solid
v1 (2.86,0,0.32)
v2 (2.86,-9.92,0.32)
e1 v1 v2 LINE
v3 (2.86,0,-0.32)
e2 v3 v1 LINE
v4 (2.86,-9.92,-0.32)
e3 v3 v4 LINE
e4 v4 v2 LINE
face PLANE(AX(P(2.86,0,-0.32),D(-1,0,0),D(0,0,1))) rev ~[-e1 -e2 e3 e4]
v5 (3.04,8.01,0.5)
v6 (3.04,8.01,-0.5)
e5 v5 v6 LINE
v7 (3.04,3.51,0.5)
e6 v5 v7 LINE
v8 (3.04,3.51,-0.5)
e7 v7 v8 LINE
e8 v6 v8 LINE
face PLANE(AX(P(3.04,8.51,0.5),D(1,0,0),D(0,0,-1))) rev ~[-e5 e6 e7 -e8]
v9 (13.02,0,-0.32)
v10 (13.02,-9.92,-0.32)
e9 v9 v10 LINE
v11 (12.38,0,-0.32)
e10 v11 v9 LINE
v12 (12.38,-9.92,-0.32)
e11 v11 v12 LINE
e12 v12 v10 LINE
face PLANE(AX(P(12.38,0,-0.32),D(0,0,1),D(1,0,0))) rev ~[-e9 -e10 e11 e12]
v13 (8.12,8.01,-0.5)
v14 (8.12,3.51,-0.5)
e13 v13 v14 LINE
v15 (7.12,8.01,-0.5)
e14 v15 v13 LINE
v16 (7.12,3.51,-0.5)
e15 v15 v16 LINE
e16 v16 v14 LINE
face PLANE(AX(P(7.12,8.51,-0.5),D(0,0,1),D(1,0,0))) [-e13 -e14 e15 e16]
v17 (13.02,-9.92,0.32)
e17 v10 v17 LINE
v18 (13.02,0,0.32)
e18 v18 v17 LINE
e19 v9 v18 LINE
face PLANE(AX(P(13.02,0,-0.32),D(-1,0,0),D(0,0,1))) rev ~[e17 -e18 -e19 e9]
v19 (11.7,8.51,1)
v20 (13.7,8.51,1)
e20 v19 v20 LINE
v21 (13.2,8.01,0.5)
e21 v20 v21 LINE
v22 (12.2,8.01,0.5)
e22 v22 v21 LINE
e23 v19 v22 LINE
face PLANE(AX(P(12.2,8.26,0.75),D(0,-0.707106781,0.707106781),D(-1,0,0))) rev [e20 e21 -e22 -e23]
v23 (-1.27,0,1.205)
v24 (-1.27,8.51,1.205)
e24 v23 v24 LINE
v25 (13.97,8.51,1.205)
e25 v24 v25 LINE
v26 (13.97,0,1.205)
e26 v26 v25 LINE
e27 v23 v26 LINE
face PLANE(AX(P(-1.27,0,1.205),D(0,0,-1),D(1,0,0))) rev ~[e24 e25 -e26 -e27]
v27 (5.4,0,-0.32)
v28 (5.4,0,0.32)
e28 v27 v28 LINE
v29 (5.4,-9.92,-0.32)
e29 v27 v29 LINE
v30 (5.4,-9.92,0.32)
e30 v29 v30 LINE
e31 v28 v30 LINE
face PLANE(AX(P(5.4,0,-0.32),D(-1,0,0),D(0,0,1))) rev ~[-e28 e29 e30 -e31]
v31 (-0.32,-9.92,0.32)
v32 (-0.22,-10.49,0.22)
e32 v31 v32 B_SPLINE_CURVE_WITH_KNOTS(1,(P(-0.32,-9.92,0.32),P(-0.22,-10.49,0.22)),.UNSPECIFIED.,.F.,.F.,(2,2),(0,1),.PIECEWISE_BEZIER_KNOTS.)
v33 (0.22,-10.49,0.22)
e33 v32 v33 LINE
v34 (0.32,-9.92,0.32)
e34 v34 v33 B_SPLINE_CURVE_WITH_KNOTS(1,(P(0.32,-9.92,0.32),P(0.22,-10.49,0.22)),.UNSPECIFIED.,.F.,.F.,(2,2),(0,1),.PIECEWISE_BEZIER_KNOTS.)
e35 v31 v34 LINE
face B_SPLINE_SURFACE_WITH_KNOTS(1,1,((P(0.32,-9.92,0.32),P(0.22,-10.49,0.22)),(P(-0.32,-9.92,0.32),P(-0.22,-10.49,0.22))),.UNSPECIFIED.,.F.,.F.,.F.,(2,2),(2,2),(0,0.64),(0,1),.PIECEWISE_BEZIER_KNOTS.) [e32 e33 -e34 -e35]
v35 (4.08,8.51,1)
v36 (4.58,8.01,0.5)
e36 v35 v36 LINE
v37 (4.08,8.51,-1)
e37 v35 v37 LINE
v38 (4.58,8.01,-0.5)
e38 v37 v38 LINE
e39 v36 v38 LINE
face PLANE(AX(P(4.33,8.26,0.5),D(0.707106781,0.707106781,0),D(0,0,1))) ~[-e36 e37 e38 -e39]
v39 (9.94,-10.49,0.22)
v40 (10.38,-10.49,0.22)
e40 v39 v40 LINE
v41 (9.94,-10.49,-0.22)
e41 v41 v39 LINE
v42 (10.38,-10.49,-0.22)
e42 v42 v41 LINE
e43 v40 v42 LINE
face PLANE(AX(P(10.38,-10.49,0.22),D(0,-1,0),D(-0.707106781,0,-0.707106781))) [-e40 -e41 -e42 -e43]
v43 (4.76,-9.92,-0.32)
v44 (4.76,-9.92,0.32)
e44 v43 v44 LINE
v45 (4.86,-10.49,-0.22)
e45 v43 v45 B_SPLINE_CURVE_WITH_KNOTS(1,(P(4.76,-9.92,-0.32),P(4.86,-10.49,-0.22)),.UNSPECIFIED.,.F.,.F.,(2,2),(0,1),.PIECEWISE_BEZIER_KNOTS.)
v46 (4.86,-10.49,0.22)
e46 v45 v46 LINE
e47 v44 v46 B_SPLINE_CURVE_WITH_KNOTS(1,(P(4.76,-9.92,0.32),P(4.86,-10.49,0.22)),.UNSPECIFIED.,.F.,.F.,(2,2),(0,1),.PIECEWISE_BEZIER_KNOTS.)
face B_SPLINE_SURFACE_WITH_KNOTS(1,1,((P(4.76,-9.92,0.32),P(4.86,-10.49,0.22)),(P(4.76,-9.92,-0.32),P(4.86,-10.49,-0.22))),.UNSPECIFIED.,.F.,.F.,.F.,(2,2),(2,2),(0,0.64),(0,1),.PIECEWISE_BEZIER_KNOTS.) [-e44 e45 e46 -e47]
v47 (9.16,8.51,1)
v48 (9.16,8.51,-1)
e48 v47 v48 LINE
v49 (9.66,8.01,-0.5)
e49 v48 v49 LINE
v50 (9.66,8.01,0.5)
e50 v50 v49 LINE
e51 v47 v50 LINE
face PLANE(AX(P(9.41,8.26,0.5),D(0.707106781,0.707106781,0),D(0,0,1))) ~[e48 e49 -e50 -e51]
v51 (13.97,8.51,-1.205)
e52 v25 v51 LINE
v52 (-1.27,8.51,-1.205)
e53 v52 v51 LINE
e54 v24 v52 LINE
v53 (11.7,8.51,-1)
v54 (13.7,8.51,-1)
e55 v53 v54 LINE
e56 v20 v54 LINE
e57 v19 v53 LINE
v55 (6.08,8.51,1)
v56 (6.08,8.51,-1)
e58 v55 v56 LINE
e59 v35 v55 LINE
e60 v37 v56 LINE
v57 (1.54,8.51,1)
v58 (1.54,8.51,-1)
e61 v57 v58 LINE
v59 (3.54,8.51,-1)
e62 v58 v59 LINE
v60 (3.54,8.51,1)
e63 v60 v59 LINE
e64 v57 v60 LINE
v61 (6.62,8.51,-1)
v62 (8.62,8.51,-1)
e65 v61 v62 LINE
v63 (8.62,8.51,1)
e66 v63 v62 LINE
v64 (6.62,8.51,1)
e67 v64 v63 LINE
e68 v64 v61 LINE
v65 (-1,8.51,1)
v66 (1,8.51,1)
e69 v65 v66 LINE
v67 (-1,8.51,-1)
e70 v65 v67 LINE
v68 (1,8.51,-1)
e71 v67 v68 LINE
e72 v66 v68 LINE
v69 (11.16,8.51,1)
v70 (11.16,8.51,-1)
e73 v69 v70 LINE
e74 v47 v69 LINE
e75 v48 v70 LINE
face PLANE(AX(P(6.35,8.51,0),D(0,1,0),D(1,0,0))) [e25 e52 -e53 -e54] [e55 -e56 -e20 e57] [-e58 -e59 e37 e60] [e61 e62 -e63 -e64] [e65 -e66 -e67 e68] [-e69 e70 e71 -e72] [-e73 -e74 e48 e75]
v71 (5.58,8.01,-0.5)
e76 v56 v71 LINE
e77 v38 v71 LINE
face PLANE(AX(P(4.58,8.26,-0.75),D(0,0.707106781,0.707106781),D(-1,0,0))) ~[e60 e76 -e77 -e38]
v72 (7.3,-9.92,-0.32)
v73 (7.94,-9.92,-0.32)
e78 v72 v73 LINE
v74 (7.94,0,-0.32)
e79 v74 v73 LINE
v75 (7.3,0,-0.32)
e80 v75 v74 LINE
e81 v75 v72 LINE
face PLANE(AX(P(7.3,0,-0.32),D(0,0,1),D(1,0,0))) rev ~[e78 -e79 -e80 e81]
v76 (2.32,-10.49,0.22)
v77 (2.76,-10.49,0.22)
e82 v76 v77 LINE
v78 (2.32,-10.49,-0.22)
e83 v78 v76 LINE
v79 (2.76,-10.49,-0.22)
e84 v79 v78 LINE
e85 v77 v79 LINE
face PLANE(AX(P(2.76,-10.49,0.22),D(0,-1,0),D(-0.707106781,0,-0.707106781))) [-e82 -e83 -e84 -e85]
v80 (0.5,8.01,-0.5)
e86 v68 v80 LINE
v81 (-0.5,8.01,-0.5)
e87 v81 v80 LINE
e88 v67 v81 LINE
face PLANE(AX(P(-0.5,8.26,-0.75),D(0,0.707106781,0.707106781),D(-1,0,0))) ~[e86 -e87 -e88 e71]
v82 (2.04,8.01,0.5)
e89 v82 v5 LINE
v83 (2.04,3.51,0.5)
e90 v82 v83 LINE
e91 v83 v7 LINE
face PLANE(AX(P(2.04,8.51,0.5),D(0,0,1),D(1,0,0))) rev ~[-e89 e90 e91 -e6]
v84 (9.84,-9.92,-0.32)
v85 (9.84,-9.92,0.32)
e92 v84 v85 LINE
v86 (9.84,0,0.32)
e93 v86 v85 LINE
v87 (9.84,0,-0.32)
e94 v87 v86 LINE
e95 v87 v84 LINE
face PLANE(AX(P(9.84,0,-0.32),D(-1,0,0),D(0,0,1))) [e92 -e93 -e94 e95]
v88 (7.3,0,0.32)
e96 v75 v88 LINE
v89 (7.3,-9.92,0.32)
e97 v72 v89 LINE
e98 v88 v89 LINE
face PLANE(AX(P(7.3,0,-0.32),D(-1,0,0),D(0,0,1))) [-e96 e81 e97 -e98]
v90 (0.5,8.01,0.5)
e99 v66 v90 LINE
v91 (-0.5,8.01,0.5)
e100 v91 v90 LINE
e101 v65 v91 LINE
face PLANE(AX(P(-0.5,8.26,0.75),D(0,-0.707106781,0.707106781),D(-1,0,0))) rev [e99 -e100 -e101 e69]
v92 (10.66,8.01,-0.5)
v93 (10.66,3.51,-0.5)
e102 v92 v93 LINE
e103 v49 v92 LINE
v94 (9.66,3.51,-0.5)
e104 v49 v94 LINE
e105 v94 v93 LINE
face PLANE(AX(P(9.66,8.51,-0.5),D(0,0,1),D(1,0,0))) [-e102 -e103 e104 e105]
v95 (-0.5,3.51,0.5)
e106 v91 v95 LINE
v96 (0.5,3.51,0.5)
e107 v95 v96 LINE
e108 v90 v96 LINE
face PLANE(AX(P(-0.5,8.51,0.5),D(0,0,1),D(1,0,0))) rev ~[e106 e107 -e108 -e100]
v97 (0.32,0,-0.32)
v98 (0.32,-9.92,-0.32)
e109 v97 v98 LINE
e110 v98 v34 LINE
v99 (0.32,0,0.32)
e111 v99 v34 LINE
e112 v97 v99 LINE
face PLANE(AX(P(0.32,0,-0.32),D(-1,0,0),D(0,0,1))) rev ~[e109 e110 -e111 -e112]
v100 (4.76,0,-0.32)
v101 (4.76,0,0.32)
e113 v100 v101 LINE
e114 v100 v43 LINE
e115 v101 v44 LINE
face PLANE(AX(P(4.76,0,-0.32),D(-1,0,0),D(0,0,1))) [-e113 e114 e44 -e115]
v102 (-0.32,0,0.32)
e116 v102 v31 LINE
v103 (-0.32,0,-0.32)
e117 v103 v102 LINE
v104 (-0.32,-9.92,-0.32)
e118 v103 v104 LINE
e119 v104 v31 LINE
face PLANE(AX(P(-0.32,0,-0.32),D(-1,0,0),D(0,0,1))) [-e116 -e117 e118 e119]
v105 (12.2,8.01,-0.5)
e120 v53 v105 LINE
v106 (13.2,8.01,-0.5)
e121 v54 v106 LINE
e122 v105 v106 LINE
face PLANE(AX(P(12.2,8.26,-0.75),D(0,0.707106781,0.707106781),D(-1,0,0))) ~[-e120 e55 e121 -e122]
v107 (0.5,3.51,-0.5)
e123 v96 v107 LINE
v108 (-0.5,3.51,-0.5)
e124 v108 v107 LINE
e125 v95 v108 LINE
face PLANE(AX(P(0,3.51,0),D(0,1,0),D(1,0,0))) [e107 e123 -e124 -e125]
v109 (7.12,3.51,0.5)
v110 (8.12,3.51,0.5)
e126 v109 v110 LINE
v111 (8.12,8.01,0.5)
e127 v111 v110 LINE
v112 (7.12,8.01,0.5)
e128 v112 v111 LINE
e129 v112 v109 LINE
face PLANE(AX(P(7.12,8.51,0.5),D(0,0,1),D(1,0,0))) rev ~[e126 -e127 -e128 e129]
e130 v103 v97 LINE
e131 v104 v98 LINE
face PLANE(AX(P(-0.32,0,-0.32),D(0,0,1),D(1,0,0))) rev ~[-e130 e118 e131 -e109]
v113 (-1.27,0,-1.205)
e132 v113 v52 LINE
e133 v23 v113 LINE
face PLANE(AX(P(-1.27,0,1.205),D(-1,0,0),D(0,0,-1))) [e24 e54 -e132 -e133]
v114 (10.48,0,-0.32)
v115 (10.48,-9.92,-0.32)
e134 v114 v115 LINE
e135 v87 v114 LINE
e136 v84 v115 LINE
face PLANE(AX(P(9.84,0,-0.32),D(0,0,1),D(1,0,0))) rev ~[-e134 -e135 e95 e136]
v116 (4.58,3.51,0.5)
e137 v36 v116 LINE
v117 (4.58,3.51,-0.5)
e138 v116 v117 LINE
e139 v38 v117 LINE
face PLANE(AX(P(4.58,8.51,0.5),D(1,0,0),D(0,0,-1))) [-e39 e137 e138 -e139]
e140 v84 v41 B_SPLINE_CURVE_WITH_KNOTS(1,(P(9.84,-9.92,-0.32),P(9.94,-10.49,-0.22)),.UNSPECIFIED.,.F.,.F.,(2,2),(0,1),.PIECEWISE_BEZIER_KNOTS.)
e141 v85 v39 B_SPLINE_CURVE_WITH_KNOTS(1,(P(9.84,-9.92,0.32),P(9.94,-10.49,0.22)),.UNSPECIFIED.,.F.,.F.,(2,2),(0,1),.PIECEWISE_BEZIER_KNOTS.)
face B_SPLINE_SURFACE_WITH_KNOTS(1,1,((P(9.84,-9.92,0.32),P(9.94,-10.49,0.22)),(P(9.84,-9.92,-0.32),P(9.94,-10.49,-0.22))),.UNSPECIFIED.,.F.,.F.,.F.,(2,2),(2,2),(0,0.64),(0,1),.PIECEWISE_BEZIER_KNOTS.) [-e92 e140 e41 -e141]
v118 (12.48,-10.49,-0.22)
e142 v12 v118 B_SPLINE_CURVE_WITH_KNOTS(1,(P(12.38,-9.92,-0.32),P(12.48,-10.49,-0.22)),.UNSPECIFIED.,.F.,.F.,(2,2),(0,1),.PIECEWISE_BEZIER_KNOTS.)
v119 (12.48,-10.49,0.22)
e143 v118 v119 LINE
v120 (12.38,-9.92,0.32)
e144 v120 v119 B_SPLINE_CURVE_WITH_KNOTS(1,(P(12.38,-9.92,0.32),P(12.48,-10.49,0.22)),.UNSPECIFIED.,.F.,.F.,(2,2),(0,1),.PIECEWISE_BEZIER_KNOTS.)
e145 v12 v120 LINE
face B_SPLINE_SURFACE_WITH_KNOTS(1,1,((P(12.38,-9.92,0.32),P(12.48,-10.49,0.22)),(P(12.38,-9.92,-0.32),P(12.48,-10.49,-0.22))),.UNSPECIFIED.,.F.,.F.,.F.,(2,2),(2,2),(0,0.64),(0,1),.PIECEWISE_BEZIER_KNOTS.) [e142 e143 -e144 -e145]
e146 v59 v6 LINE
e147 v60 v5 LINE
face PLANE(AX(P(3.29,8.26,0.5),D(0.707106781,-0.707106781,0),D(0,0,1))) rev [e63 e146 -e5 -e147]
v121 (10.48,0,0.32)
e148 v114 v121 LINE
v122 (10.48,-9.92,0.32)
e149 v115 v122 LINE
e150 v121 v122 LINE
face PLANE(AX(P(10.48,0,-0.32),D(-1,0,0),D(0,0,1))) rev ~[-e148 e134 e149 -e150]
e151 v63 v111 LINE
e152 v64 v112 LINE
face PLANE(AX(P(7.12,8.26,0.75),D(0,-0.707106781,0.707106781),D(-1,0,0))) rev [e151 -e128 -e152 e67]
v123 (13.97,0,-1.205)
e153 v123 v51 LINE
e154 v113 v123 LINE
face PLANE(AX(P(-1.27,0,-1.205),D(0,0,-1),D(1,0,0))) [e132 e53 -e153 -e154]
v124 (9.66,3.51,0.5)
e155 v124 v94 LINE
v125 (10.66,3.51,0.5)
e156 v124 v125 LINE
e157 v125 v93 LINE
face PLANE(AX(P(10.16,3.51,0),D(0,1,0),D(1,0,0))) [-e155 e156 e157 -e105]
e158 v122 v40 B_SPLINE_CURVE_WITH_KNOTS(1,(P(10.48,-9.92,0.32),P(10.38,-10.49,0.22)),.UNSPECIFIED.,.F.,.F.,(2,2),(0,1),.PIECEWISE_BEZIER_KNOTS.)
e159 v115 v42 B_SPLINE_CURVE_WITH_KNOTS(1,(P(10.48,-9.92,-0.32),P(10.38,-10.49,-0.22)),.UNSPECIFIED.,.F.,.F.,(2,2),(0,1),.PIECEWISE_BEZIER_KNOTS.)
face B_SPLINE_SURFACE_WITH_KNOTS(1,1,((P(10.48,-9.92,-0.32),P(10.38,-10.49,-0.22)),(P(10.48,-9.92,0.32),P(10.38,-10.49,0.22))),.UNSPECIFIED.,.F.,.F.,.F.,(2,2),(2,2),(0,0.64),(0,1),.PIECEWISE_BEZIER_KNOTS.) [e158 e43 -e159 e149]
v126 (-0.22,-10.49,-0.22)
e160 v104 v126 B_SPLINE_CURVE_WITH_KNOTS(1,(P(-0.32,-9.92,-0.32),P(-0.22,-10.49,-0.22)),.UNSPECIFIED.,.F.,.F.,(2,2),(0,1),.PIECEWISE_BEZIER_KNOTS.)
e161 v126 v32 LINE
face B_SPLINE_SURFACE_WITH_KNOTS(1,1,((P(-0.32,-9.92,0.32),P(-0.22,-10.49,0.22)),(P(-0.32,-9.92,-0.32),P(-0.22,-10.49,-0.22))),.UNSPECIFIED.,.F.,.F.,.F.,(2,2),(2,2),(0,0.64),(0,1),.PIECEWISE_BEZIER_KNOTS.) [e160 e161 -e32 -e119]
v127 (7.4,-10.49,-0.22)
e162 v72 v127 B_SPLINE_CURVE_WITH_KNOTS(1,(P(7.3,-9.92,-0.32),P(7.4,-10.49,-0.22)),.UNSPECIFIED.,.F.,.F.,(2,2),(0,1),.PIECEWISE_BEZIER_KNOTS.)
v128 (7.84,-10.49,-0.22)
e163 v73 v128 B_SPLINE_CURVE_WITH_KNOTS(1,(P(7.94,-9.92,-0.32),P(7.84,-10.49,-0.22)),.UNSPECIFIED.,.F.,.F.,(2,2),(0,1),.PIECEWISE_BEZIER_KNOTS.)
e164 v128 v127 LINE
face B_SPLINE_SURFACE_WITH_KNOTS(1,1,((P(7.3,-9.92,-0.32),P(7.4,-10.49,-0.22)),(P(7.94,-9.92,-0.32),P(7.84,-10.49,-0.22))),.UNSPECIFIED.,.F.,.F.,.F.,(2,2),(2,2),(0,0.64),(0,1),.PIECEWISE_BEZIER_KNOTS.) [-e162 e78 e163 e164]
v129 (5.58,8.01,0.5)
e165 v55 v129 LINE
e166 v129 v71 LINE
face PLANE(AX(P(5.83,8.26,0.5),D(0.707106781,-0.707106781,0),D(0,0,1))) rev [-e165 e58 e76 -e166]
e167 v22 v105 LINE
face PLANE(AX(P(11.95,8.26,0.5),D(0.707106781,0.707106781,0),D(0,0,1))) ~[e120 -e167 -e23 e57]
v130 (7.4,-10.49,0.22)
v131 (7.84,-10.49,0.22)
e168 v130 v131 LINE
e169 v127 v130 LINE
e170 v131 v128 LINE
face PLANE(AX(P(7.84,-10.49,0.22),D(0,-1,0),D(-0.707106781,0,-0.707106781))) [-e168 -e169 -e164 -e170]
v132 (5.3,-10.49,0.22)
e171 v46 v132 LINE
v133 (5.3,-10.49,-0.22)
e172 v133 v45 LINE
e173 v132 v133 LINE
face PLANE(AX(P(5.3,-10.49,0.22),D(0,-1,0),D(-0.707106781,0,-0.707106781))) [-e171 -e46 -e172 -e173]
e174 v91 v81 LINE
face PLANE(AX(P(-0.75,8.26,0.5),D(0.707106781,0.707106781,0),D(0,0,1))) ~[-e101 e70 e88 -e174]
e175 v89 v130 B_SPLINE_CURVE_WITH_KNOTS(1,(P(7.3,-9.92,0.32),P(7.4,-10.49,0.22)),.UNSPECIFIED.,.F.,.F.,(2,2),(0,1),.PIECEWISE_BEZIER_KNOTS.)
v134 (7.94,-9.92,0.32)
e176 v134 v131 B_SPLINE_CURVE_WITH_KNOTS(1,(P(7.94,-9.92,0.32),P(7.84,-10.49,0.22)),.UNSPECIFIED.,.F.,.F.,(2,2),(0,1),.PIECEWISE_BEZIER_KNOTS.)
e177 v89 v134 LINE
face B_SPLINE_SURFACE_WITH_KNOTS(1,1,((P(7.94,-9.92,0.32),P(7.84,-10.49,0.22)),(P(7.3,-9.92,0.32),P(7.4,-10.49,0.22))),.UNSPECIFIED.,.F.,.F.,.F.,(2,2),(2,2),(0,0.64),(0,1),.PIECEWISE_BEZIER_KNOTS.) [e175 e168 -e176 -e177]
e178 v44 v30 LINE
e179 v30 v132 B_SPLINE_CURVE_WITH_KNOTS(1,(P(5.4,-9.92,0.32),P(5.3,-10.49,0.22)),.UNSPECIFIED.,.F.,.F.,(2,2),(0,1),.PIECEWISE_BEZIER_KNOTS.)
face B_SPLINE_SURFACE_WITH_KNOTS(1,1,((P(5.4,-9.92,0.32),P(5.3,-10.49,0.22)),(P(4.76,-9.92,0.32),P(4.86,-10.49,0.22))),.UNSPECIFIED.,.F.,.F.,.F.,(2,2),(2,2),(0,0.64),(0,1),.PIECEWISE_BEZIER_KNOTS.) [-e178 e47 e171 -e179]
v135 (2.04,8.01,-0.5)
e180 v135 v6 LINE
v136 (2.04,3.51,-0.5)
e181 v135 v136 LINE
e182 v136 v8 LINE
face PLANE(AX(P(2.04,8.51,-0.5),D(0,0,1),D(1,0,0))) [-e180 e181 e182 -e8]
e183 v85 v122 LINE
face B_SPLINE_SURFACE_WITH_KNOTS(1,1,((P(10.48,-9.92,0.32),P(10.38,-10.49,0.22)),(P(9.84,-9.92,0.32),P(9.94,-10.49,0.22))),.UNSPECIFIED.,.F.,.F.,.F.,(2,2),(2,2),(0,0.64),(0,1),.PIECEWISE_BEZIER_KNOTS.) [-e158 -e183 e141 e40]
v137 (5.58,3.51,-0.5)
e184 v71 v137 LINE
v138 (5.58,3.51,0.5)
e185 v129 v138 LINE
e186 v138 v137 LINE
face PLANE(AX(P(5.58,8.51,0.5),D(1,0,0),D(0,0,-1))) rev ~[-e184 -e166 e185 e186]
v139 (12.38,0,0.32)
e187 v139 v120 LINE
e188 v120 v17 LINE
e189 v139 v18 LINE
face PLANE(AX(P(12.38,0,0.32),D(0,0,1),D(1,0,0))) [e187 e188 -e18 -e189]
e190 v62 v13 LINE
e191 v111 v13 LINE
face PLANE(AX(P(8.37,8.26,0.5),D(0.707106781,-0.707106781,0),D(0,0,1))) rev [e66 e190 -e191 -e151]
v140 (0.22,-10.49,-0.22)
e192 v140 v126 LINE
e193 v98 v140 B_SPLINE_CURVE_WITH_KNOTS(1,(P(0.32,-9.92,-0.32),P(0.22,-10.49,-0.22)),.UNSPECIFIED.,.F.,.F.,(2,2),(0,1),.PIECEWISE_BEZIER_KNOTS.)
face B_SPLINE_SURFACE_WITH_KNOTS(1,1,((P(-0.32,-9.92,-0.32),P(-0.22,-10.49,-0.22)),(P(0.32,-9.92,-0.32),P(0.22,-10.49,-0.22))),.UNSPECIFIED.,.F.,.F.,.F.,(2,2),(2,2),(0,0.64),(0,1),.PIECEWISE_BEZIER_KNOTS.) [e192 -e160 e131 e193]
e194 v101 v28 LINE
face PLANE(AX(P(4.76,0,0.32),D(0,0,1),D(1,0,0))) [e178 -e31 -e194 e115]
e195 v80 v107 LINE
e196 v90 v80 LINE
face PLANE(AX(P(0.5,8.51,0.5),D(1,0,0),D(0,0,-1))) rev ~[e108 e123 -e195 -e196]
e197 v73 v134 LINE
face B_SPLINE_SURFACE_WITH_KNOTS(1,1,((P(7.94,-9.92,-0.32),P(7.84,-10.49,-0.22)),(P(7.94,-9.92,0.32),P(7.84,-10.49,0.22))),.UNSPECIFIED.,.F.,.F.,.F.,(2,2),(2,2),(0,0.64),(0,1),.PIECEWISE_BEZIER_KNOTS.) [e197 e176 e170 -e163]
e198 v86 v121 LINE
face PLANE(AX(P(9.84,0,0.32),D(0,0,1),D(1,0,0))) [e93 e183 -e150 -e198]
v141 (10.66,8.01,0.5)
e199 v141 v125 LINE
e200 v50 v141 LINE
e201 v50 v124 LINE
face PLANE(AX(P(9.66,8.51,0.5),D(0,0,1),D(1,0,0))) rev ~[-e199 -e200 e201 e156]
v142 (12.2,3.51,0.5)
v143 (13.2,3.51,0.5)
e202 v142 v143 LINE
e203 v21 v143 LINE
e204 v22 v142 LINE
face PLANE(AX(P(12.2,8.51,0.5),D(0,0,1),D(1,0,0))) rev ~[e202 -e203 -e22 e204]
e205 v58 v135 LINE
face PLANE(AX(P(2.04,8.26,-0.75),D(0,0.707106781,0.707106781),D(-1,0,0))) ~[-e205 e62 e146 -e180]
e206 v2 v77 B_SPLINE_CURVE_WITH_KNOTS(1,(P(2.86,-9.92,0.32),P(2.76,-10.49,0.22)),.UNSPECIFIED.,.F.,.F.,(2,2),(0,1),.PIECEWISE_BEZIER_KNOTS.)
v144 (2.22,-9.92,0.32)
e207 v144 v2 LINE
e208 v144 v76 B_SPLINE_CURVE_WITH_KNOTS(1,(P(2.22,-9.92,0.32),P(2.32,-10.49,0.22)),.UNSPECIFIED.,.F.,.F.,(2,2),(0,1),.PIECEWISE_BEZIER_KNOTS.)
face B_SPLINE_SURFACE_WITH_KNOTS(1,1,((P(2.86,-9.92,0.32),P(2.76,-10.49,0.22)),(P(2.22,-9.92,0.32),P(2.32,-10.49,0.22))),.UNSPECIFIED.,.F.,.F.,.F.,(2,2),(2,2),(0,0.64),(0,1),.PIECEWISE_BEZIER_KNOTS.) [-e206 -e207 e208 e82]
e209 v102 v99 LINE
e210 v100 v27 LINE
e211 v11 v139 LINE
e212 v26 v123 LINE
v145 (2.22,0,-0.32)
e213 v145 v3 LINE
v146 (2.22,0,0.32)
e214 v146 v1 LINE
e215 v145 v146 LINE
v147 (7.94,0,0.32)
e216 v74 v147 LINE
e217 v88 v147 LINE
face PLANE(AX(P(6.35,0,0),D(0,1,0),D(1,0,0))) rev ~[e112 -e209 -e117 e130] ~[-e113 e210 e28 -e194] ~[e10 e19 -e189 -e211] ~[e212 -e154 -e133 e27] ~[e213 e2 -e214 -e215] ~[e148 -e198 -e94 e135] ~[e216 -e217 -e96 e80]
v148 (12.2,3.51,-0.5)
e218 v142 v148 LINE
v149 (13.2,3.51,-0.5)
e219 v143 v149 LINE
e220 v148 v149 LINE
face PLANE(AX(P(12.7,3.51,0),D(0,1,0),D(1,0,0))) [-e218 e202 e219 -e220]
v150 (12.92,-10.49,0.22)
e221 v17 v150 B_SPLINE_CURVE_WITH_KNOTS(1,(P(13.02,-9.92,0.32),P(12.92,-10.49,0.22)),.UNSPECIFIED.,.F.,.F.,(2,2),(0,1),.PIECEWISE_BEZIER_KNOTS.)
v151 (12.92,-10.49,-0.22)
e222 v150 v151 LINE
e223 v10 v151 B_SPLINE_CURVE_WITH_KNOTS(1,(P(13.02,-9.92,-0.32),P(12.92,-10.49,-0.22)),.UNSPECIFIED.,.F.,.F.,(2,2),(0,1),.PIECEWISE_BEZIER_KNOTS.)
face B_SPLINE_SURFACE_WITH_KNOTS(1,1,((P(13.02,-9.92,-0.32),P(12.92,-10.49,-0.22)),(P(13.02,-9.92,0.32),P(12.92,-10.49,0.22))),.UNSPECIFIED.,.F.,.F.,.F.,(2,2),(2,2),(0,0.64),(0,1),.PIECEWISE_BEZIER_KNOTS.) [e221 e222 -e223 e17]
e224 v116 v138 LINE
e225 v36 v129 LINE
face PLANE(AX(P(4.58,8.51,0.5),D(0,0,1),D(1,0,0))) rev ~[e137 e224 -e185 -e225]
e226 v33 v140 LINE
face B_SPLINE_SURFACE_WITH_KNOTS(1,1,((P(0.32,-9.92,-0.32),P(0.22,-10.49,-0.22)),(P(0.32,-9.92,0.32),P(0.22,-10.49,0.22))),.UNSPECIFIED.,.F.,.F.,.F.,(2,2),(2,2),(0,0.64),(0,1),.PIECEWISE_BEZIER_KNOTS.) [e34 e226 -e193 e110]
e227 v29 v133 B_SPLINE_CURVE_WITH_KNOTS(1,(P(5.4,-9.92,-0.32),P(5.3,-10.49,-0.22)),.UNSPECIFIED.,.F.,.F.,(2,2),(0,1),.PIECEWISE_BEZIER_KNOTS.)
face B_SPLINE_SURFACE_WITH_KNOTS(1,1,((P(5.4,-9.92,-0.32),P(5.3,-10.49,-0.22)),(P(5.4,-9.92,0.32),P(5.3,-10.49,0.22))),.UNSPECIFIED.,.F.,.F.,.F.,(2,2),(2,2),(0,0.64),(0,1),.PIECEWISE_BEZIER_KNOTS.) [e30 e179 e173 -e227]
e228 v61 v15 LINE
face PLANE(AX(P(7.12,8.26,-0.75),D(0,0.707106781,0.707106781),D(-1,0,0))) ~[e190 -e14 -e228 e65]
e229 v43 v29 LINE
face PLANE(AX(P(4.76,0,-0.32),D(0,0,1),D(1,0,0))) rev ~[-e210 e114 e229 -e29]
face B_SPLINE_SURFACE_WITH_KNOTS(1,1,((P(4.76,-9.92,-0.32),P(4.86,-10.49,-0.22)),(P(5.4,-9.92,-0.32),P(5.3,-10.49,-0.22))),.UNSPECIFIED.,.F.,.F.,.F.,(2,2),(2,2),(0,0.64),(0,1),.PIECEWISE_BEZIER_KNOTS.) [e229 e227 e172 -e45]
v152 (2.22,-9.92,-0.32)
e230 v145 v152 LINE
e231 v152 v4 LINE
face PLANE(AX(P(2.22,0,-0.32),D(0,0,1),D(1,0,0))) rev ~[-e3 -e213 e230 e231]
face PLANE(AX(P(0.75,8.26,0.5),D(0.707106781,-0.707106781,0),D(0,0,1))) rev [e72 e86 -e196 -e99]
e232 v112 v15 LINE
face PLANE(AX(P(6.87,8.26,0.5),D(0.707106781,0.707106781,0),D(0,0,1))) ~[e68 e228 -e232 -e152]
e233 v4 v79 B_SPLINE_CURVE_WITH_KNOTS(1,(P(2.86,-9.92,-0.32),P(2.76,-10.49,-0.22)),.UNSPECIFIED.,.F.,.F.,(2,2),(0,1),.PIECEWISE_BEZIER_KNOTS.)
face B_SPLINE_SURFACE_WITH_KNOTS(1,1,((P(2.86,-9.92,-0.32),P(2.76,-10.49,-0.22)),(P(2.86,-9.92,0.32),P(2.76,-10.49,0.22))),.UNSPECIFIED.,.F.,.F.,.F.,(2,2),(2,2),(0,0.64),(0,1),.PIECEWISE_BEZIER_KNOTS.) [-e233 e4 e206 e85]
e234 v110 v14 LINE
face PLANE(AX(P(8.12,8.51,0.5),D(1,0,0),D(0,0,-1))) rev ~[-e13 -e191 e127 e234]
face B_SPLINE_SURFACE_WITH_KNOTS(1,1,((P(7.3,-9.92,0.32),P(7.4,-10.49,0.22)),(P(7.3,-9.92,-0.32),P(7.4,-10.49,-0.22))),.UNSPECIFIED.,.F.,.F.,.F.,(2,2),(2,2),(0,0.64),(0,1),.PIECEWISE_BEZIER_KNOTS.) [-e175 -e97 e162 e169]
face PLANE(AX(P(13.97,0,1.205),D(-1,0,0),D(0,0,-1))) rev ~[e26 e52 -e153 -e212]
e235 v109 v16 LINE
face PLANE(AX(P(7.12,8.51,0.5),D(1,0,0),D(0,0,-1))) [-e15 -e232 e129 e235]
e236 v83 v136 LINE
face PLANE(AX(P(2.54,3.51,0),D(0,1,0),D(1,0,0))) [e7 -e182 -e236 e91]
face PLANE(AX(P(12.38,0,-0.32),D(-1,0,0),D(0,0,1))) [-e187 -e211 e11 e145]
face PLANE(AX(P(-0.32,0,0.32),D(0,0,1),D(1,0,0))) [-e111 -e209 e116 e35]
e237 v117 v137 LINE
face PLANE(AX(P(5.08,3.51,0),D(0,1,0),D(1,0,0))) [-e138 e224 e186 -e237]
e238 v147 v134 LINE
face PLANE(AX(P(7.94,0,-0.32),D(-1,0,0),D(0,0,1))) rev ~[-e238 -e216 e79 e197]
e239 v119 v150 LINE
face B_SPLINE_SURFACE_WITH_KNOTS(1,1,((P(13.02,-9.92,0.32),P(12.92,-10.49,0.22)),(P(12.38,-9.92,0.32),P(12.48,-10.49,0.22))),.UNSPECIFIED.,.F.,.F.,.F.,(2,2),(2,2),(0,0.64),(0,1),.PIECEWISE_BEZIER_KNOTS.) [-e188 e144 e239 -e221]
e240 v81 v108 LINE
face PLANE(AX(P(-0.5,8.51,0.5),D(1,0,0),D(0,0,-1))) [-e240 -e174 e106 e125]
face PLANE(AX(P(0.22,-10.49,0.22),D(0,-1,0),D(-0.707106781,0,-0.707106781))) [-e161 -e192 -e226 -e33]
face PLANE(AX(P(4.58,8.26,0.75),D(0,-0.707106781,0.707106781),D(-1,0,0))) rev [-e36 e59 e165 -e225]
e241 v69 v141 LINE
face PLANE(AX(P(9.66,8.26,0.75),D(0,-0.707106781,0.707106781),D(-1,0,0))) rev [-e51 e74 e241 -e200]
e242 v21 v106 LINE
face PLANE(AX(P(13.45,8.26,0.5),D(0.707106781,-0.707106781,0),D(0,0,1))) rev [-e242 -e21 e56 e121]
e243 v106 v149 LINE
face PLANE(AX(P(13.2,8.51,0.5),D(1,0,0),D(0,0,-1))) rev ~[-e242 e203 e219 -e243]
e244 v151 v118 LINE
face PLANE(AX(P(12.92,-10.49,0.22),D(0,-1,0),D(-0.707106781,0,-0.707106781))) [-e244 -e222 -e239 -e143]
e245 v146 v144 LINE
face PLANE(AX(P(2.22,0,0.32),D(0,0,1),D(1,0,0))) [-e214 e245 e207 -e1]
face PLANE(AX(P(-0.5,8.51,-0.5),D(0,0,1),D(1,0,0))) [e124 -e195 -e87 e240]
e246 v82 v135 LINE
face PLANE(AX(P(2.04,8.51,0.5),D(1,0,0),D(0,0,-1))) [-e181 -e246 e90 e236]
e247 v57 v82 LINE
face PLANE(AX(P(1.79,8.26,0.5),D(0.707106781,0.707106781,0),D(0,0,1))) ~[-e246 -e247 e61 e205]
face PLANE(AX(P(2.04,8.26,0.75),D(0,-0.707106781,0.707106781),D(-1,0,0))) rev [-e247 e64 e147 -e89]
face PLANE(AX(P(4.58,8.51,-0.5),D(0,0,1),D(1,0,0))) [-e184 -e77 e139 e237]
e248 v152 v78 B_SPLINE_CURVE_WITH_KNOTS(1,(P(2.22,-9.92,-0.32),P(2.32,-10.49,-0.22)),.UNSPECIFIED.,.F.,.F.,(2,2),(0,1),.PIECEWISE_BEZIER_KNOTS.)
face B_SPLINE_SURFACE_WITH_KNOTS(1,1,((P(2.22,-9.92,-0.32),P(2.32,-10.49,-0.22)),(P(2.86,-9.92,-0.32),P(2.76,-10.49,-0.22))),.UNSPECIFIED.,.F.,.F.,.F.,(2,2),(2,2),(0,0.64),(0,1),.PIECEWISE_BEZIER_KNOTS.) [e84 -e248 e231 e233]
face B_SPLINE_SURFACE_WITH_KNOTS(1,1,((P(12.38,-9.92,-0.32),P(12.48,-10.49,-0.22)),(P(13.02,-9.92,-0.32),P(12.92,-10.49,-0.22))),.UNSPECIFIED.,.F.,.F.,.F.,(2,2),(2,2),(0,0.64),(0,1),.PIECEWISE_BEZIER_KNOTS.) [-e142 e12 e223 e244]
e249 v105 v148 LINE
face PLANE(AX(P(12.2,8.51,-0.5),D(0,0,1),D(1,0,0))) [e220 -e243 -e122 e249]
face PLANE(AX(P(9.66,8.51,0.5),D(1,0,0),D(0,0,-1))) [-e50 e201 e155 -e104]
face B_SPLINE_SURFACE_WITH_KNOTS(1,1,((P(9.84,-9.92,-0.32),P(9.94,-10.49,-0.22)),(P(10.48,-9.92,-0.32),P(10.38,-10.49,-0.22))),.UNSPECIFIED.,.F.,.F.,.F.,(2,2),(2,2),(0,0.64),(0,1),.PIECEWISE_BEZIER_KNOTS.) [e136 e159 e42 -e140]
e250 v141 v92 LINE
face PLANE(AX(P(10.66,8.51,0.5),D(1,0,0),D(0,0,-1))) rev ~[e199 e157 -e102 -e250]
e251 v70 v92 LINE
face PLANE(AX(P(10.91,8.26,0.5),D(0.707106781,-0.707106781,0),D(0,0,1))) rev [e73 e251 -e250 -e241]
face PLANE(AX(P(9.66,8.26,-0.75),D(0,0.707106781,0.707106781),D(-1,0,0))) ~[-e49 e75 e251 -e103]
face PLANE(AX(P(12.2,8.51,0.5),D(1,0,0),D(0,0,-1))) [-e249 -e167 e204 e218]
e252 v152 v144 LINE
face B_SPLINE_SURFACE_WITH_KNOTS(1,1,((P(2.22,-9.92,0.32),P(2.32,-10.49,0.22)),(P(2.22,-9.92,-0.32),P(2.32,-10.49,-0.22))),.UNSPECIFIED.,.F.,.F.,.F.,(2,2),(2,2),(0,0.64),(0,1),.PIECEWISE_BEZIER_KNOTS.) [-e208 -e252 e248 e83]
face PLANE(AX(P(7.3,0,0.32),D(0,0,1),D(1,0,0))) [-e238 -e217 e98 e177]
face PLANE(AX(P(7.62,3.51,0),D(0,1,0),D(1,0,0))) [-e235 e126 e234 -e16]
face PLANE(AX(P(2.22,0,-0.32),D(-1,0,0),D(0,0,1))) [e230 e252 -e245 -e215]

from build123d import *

# Parameters (mm, degrees)
SKETCH2_W                  = 15.24
SKETCH2_H                  = 2.41
BOSS_EXTRUDE1_DEPTH        = 8.51
SKETCH5_W                  = 1
SKETCH5_H                  = 1
CUT_EXTRUDE1_DEPTH         = 5
CHAMFER1_SIZE              = 0.5
LPATTERN3_COUNT            = 6
LPATTERN3_PITCH            = 2.54
CHAMFER1_OF_LPATTERN3_SIZE = 0.5
SKETCH11_W                 = 0.64
SKETCH11_H                 = 0.64
BOSS_EXTRUDE2_DEPTH        = 9.92
LPATTERN4_COUNT            = 6
LPATTERN4_PITCH            = 2.54


with BuildPart() as part:
    # Sketch2 → Boss-Extrude1 (new body)
    with BuildSketch(Plane(origin=(0, 0, 0), x_dir=(1, 0, 0), z_dir=(0, 1, 0))):
        with Locations((6.35, 0)):
            Rectangle(SKETCH2_W, SKETCH2_H)
    extrude(amount=BOSS_EXTRUDE1_DEPTH)

    # Sketch5 → Cut-Extrude1 (cut)
    with BuildSketch(Plane(origin=(0, 8.51, 0), x_dir=(1, 0, 0), z_dir=(0, 1, 0))):
        Rectangle(SKETCH5_W, SKETCH5_H)
    cut_extrude1 = extrude(amount=-CUT_EXTRUDE1_DEPTH, mode=Mode.SUBTRACT)

    # Chamfer1
    chamfer1_edges = [part.edges().sort_by_distance(p)[0] for p in [
        (0.5, 8.51, 0),
        (0, 8.51, -0.5),
        (-0.5, 8.51, 0),
        (0, 8.51, 0.5),
    ]]
    chamfer(chamfer1_edges, length=CHAMFER1_SIZE)

    # LPattern3: Cut-Extrude1 ×6
    with Locations(*[(i * LPATTERN3_PITCH, 0, 0) for i in range(1, LPATTERN3_COUNT)]):
        add(cut_extrude1, mode=Mode.SUBTRACT)

    # Chamfer1 of LPattern3
    chamfer1_of_lpattern3_edges = [part.edges().sort_by_distance(p)[0] for p in [
        (3.04, 8.51, 0),
        (2.54, 8.51, -0.5),
        (2.04, 8.51, 0),
        (2.54, 8.51, 0.5),
        (5.58, 8.51, 0),
        (5.08, 8.51, -0.5),
        (4.58, 8.51, 0),
        (5.08, 8.51, 0.5),
        (8.12, 8.51, 0),
        (7.62, 8.51, -0.5),
        (7.12, 8.51, 0),
        (7.62, 8.51, 0.5),
        (10.66, 8.51, 0),
        (10.16, 8.51, -0.5),
        (9.66, 8.51, 0),
        (10.16, 8.51, 0.5),
        (13.2, 8.51, 0),
        (12.7, 8.51, -0.5),
        (12.2, 8.51, 0),
        (12.7, 8.51, 0.5),
    ]]
    chamfer(chamfer1_of_lpattern3_edges, length=CHAMFER1_OF_LPATTERN3_SIZE)

    # Sketch11 → Boss-Extrude2 (add)
    with BuildSketch(Plane.XZ):
        Rectangle(SKETCH11_W, SKETCH11_H)
    boss_extrude2 = extrude(amount=BOSS_EXTRUDE2_DEPTH)

    # Sketch13 → Loft1 section 0
    with BuildSketch(Plane.XZ.offset(9.92)):
        with BuildLine():
            Line((0.32, -0.32), (0.32, 0.32))
            Line((0.32, 0.32), (-0.32, 0.32))
            Line((-0.32, 0.32), (-0.32, -0.32))
            Line((-0.32, -0.32), (0.32, -0.32))
        make_face()
    # Sketch14 → Loft1 section 1
    with BuildSketch(Plane(origin=(0, -10.49, 0), x_dir=(-1, 0, 0), z_dir=(0, -1, 0))):
        with BuildLine():
            Line((-0.22, 0.22), (0.22, 0.22))
            Line((0.22, 0.22), (0.22, -0.22))
            Line((0.22, -0.22), (-0.22, -0.22))
            Line((-0.22, -0.22), (-0.22, 0.22))
        make_face()
    loft1 = loft()

    # LPattern4: Boss-Extrude2, Loft1 ×6
    with Locations(*[(i * LPATTERN4_PITCH, 0, 0) for i in range(1, LPATTERN4_COUNT)]):
        add(boss_extrude2)
        add(loft1)


solid = part.part
